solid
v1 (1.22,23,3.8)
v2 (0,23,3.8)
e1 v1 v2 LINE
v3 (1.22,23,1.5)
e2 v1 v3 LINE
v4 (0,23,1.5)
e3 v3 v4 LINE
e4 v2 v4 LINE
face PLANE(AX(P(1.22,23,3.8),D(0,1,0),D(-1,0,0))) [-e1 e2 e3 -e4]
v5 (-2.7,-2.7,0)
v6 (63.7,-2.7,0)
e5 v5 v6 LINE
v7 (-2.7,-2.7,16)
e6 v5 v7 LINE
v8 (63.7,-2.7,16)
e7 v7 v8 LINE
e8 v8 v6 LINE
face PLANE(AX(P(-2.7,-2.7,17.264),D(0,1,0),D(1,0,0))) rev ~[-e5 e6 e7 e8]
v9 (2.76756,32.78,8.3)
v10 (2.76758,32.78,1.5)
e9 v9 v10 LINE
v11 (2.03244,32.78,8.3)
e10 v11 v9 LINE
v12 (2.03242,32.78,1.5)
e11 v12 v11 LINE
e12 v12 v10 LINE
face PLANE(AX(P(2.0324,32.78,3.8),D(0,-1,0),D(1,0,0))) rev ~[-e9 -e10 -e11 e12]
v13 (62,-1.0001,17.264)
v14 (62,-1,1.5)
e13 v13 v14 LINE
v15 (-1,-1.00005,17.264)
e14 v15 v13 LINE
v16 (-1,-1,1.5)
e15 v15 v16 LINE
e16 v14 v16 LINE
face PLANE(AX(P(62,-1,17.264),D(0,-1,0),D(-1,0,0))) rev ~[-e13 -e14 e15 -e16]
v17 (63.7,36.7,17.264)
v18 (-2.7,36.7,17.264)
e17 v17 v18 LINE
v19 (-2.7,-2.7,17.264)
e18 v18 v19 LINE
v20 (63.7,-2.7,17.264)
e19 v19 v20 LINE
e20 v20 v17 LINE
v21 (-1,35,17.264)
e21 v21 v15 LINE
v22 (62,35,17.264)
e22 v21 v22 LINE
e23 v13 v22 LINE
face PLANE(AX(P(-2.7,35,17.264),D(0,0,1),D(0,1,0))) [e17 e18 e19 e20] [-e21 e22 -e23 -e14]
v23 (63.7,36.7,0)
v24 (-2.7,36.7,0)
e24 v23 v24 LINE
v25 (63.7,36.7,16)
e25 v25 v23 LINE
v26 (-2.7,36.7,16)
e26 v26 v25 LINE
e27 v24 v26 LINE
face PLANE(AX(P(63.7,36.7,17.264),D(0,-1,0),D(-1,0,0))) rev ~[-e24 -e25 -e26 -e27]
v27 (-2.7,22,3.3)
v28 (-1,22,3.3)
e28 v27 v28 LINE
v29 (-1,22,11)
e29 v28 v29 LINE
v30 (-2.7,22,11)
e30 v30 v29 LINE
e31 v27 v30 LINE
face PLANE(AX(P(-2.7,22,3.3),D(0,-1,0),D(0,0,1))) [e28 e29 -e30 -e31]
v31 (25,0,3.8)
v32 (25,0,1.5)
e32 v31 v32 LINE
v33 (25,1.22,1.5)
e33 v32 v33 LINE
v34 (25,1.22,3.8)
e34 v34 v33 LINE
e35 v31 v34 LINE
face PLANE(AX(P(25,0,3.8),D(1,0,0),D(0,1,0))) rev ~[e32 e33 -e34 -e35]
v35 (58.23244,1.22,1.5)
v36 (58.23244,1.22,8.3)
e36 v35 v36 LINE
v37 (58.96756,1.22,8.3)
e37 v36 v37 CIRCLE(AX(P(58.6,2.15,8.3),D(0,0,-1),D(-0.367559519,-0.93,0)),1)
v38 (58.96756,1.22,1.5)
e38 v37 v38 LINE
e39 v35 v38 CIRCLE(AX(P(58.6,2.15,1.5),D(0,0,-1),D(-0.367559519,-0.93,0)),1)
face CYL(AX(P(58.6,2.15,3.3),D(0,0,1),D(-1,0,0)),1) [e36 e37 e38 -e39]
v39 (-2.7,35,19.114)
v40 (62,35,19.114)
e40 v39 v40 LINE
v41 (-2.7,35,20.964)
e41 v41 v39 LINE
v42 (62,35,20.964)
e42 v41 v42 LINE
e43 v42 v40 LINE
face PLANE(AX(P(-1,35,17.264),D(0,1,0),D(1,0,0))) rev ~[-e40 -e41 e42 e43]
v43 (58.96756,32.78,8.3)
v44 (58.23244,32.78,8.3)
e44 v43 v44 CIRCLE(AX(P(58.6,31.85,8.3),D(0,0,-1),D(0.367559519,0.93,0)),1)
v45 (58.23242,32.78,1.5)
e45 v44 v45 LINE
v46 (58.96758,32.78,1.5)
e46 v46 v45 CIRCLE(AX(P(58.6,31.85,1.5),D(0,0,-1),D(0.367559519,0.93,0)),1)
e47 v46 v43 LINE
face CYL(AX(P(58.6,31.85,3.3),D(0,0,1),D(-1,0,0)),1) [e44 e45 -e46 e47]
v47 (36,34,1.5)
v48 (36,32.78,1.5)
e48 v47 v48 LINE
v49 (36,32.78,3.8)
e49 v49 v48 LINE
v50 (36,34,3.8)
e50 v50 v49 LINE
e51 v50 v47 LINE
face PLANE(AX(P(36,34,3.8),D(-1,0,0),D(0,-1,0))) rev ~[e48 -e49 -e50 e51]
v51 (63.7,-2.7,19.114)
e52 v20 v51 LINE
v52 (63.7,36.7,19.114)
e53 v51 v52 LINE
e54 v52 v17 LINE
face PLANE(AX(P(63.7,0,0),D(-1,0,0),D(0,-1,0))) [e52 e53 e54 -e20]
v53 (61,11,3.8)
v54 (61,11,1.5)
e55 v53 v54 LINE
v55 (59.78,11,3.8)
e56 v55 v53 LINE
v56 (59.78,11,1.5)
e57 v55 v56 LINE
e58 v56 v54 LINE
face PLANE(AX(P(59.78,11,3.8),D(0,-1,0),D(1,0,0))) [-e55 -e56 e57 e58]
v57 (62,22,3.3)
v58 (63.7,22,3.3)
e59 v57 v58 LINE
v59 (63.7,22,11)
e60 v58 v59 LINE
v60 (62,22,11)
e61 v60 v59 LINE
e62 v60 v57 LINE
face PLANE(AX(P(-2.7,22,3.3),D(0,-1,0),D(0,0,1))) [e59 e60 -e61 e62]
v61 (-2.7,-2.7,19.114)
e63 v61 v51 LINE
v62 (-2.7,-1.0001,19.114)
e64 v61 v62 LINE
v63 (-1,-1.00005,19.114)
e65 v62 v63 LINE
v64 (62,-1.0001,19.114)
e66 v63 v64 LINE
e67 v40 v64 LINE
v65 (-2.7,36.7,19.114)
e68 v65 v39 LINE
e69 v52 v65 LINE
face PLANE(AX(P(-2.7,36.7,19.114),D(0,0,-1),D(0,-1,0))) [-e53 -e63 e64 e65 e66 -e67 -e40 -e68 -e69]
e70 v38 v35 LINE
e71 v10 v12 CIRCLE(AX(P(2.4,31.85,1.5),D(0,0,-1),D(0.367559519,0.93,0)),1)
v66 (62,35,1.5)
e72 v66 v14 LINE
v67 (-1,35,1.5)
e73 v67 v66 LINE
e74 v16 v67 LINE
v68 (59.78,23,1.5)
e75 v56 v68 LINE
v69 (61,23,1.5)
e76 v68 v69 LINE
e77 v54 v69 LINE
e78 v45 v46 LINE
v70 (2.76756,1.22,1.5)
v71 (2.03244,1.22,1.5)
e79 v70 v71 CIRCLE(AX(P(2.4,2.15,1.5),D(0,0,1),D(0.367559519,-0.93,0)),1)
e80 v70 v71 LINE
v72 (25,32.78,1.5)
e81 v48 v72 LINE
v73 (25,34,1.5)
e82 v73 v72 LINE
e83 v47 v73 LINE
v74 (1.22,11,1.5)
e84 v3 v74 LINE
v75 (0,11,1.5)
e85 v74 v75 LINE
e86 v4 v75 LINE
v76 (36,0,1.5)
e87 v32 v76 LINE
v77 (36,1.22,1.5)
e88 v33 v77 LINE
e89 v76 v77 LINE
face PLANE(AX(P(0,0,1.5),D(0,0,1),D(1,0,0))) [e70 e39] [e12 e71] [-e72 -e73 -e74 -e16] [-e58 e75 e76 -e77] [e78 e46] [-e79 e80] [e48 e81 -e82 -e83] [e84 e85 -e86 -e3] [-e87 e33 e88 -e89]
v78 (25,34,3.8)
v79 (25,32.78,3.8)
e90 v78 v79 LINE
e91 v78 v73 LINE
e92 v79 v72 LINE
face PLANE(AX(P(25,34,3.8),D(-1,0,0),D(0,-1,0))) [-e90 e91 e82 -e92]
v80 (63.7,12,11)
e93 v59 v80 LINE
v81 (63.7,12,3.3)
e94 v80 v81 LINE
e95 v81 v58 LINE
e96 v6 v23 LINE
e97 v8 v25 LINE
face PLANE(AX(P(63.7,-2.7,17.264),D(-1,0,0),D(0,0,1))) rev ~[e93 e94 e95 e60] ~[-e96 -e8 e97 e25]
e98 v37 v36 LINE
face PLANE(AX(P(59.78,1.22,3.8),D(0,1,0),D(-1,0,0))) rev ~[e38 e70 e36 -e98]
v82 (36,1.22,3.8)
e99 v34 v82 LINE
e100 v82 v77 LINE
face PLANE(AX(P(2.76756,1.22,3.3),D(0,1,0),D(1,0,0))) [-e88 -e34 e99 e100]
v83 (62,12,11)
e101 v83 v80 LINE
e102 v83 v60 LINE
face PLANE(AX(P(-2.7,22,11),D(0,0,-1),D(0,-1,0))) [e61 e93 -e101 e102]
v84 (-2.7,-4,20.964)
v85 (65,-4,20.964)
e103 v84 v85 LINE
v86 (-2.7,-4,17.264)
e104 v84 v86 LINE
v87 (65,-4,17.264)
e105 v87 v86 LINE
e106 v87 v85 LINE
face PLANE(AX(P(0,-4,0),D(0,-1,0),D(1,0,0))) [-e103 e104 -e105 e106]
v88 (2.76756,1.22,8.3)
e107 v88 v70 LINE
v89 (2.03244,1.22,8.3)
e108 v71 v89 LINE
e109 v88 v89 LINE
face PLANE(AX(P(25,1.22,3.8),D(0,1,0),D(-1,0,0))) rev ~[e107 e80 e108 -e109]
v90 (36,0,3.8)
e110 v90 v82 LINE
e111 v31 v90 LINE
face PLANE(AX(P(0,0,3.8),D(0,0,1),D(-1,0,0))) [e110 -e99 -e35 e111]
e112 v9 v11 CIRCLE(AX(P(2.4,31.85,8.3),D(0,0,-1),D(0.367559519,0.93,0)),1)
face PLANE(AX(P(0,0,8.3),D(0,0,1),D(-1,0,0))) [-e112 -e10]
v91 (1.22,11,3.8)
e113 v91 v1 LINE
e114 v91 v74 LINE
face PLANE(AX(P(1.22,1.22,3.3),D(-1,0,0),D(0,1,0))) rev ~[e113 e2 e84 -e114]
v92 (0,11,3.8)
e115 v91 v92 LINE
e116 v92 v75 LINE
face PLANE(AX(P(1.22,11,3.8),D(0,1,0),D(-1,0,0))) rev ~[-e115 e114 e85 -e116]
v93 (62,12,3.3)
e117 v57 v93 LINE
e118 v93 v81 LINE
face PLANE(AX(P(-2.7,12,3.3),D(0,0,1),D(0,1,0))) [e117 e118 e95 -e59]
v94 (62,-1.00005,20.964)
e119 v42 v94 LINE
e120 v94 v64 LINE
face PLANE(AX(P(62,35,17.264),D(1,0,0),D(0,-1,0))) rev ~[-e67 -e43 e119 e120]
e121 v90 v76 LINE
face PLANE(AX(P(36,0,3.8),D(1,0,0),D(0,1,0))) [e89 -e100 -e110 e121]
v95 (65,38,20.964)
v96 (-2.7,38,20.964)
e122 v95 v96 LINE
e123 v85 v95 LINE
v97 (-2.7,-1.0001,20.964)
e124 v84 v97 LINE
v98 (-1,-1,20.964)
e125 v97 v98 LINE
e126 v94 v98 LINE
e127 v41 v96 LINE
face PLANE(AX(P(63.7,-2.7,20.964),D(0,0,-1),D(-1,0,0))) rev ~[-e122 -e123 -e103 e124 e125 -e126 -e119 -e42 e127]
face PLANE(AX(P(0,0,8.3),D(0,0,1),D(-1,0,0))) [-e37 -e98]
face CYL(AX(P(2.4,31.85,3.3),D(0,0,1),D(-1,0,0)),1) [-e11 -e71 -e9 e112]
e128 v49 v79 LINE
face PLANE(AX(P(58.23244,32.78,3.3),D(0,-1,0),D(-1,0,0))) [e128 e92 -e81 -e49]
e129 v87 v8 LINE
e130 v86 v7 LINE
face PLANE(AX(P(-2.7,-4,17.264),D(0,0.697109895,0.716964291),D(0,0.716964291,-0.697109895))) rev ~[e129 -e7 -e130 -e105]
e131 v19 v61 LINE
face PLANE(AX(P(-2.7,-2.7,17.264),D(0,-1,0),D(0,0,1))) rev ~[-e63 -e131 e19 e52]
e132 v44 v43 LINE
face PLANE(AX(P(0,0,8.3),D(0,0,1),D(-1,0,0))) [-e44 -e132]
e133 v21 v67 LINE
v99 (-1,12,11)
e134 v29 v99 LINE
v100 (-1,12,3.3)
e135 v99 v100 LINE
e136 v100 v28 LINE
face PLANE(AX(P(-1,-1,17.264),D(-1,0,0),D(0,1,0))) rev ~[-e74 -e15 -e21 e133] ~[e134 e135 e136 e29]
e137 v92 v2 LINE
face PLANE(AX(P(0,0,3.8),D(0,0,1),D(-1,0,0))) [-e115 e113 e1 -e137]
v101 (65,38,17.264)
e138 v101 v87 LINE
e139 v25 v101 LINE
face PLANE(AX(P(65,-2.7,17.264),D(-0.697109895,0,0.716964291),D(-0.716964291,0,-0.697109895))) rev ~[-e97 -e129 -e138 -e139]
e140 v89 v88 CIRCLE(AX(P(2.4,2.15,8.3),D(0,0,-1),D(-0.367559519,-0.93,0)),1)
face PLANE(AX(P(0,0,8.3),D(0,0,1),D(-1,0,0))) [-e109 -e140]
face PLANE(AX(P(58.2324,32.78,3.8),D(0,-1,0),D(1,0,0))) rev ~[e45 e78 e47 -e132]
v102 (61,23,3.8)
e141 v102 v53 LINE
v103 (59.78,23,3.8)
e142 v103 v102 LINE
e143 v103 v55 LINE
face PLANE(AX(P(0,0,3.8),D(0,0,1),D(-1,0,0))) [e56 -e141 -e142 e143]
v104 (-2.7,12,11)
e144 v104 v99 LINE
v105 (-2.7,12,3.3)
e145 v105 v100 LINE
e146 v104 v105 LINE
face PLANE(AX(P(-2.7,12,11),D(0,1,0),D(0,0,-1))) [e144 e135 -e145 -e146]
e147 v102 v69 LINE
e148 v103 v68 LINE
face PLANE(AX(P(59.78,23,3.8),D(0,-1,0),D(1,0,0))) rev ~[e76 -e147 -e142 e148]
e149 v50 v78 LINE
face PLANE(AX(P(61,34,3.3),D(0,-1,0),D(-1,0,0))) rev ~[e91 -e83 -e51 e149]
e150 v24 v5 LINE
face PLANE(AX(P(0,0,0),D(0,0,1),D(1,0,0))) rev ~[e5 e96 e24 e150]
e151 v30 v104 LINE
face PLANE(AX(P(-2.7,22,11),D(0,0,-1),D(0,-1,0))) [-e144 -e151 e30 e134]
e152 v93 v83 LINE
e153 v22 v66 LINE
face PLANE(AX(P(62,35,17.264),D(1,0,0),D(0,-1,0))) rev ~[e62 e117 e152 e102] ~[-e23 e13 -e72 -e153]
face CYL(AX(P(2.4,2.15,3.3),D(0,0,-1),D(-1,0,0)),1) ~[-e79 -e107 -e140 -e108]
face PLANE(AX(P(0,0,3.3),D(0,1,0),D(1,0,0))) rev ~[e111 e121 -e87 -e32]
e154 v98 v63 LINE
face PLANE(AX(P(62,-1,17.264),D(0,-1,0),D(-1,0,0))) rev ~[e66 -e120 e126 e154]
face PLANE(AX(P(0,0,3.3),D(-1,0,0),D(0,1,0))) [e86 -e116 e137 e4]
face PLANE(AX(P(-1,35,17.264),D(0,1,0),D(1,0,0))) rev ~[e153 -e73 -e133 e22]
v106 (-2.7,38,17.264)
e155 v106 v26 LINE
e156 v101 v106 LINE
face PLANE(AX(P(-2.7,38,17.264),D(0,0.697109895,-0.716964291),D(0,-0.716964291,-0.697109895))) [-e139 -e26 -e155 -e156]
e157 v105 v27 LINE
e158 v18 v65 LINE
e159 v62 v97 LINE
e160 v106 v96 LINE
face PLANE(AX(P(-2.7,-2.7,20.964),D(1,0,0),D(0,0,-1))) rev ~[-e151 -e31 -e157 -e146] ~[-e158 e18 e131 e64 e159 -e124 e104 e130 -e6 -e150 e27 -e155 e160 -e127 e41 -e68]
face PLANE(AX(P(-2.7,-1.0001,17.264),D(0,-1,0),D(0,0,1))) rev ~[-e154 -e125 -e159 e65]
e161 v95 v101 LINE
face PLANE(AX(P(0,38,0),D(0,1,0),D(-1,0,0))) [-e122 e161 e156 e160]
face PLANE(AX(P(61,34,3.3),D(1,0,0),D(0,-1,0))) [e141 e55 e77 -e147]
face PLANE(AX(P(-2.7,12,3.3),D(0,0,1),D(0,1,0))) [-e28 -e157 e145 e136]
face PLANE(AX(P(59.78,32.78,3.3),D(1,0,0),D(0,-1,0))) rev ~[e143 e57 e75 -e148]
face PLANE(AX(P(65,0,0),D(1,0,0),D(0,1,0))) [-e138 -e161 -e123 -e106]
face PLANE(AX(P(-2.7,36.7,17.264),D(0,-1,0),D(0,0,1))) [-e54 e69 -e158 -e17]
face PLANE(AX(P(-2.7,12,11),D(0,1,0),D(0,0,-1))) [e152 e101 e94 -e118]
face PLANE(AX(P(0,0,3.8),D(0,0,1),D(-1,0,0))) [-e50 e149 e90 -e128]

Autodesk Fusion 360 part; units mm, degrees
sketch "Spodek" plane through (0, 0, 0) normal (0, 0, 1) x (1, 0, 0)
  line L0 (0, 0) -> (61, 0)
  line L1 (61, 0) -> (61, 34)
  line L2 (61, 34) -> (0, 34)
  line L3 (0, 34) -> (0, 0)
  line L4 (-1, 35) -> (62, 35)
  line L5 (62, 35) -> (62, -1)
  line L6 (62, -1) -> (-1, -1)
  line L7 (-1, -1) -> (-1, 35)
  line L8 (-2.7, -2.7) -> (-2.7, 36.7) construction
  line L9 (63.7, 36.7) -> (-2.7, 36.7) construction
  line L10 (63.7, -2.7) -> (63.7, 36.7) construction
  line L11 (63.7, -2.7) -> (-2.7, -2.7) construction
  line L12 (-2.7, -2.7) -> (63.7, -2.7)
  line L13 (63.7, -2.7) -> (63.7, 36.7)
  line L14 (63.7, 36.7) -> (-2.7, 36.7)
  line L15 (-2.7, 36.7) -> (-2.7, -2.7)
  dimension "d1" = 61
  dimension "d2" = 34
  dimension "d3" = 63
  dimension "d4" = 36
  dimension "d5" = 1.7
  dimension "d6" = 1.7
  dimension "d7" = 1.7
  dimension "d8" = 1.7
sketch "TotoNevim" plane through (0, 0, 0) normal (0, 0, 1) x (1, 0, 0)
extrude "Extrude1" add sketch "Spodek" along normal blind 12 contours L12 L13 L14 L15 makes body 1
extrude "Extrude2" add sketch "Spodek" along normal blind 1.5 contours L0 L1 L2 L3 | L4 L5 L6 L7 bodies 1
sketch "Sketch3" plane through (0, 0, 1.5) normal (0, 0, 1) x (-1, 0, 0)
  line L0 (1, 1) -> (-62, 1)
  line L1 (-62, 1) -> (-62, -35)
  line L2 (-62, -35) -> (1, -35)
  line L3 (1, -35) -> (1, 1)
  line L4 (-59.78, -32.78) -> (-1.22, -32.78)
  line L5 (-1.22, -32.78) -> (-1.22, -1.22)
  line L6 (-1.22, -1.22) -> (-59.78, -1.22)
  line L7 (-59.78, -1.22) -> (-59.78, -32.78)
  line L8 (-61, 0) -> (-61, -34)
  line L9 (0, 0) -> (-61, 0)
  line L10 (0, -34) -> (0, 0)
  line L11 (-61, -34) -> (0, -34)
  dimension "d13" = 1.22
  dimension "d14" = 1.22
  dimension "d15" = 1.22
  dimension "d16" = 1.22
extrude "Extrude3" add sketch "Sketch3" along normal blind 1.8 contours L8 L9 L10 L11 bodies 1
extrude "Extrude4" add 1 faces at (20, -2.1333, 12) along direction (0, 0, 1) blind 5.243 on bodies 1 bodies 1
extrude "Extrude5" add 1 faces at (20, -2.1333, 17.243) along direction (0, 0, 1) blind 0.021 on bodies 1 bodies 1
sketch "Prurez1" plane through (-2.7, 0, 0) normal (-1, 0, 0) x (0, -1, 0)
  line L0 (-36.7, 0) -> (2.7, 0)
  line L1 (2.7, 0) -> (2.7, 17.264)
  line L2 (2.7, 17.264) -> (-36.7, 17.264)
  line L3 (-36.7, 17.264) -> (-36.7, 0)
  line L4 (-12, 3.3) -> (-12, 11) construction
  line L5 (0, 1.5) -> (0, 3.3) construction
  line L6 (-22, 11) -> (-22, 3.3) construction
  line L7 (-34, 3.3) -> (-34, 11) construction
  line L8 (-35, 1.5) -> (-35, 17.264) construction
  line L9 (-22, 11) -> (-12, 11) construction
  line L10 (-12, 11) -> (-12, 3.3) construction
  line L11 (-12, 3.3) -> (-22, 3.3) construction
  line L12 (-22, 3.3) -> (-22, 11) construction
  line L13 (-22, 11) -> (-12, 11)
  line L14 (-12, 11) -> (-12, 3.3)
  line L15 (-12, 3.3) -> (-22, 3.3)
  line L16 (-22, 3.3) -> (-22, 11)
  dimension "d23" = 7.7
  dimension "d24" = 12
  dimension "d25" = 12
  dimension "d26" = 1
extrude "Extrude6" cut sketch "Prurez1" against normal up to surface (66.4 mm away) contours L13 L14 L15 L16 bodies 1
sketch "Sketch5" plane through (0, 0, 17.264) normal (0, 0, 1) x (-1, 0, 0)
  line L0 (-62, 1) -> (1, 1)
  line L1 (1, 1) -> (1, -35)
  line L2 (1, -35) -> (-62, -35)
  line L3 (-62, -35) -> (-62, 1)
  line L4 (2.7, -36.7) -> (2.7, 2.7)
  line L5 (2.7, 2.7) -> (-63.7, 2.7)
  line L6 (-63.7, 2.7) -> (-63.7, -36.7)
  line L7 (-63.7, -36.7) -> (2.7, -36.7)
  line L8 (2.7, -36.7) -> (-63.7, -36.7)
  line L9 (-63.7, -36.7) -> (-63.7, 2.7)
  line L10 (-63.7, 2.7) -> (2.7, 2.7)
  line L11 (2.7, 2.7) -> (2.7, -36.7)
  line L12 (1, -35) -> (-62, -35)
  line L13 (-62, -35) -> (-62, 1)
  line L14 (-62, 1) -> (1, 1)
  line L15 (1, 1) -> (1, -35)
extrude "Extrude7" add sketch "Sketch5" along normal blind 3.7 bodies 1
sketch "Sketch6" plane through (-2.7, 0, 0) normal (-1, 0, 0) x (0, -1, 0)
  line L0 (-22, 3.3) -> (-22, 11)
  line L1 (-22, 11) -> (-12, 11)
  line L2 (-12, 11) -> (-12, 3.3)
  line L3 (-12, 3.3) -> (-22, 3.3)
  line L4 (-36.7, 0) -> (2.7, 0)
  line L5 (2.7, 0) -> (2.7, 20.964)
  line L6 (2.7, 20.964) -> (-36.7, 20.964)
  line L7 (-36.7, 20.964) -> (-36.7, 0)
  line L8 (-35, 17.264) -> (1.0001, 17.264)
  line L9 (1.0001, 17.264) -> (1.0001, 20.964)
  line L10 (1.0001, 20.964) -> (-35, 20.964)
  line L11 (-35, 20.964) -> (-35, 17.264)
  line L12 (-36.7, 17.264) -> (2.7, 17.264)
extrude "Extrude8" cut sketch "Sketch6" against normal up to surface (64.7 mm away) contours L6 L8 L9 L10 L11 L12 bodies 1
sketch "BokFront" plane through (0, -2.7, 0) normal (0, -1, 0) x (1, 0, 0)
  line L0 (-2.7, 0) -> (63.7, 0)
  line L1 (63.7, 0) -> (63.7, 20.964)
  line L2 (63.7, 20.964) -> (-2.7, 20.964)
  line L3 (-2.7, 20.964) -> (-2.7, 0)
  line L4 (-2.7, 20.964) -> (63.7, 20.964)
  line L5 (63.7, 20.964) -> (63.7, 17.264)
  line L6 (63.7, 17.264) -> (-2.7, 17.264)
  line L7 (-2.7, 17.264) -> (-2.7, 20.964)
  point P0 (63.7, 17.264)
sketch "BokRight" plane through (63.7, 0, 0) normal (1, 0, 0) x (0, 1, 0)
  line L0 (22, 11) -> (22, 3.3)
  line L1 (22, 3.3) -> (12, 3.3)
  line L2 (12, 3.3) -> (12, 11)
  line L3 (12, 11) -> (22, 11)
  line L4 (-2.7, 0) -> (36.7, 0)
  line L5 (36.7, 0) -> (36.7, 20.964)
  line L6 (36.7, 20.964) -> (-2.7, 20.964)
  line L7 (-2.7, 20.964) -> (-2.7, 0)
  line L8 (-2.7, 20.964) -> (36.7, 20.964)
  line L9 (36.7, 20.964) -> (36.7, 17.264)
  line L10 (36.7, 17.264) -> (-2.7, 17.264)
  line L11 (-2.7, 17.264) -> (-2.7, 20.964)
  point P0 (36.7, 17.264)
sketch "BokBack" plane through (0, 36.7, 0) normal (0, 1, 0) x (-1, 0, 0)
  line L0 (-63.7, 0) -> (2.7, 0)
  line L1 (2.7, 0) -> (2.7, 20.964)
  line L2 (2.7, 20.964) -> (-63.7, 20.964)
  line L3 (-63.7, 20.964) -> (-63.7, 0)
  line L4 (-63.7, 20.964) -> (2.7, 20.964)
  line L5 (2.7, 20.964) -> (2.7, 17.264)
  line L6 (2.7, 17.264) -> (-63.7, 17.264)
  line L7 (-63.7, 17.264) -> (-63.7, 20.964)
  point P0 (2.7, 17.264)
extrude "Extrude9" add sketch "BokBack" along normal blind 1.3 contours L1 L2 L3 L4 L5 L6 L7 bodies 1
extrude "Extrude10" add sketch "BokFront" along normal blind 1.3 contours L1 L2 L3 L4 L5 L6 L7 bodies 1
extrude "Extrude11" add sketch "BokRight" along normal blind 1.3 contours L5 L6 L7 L8 L9 L10 L11 bodies 1
extrude "Extrude12" add 1 faces at (63.7, 37.5667, 19.7307) along direction (1, 0, 0) blind 1.3 on bodies 1 bodies 1
extrude "Extrude13" add 1 faces at (63.7, -3.1333, 19.7307) along direction (1, 0, 0) blind 1.3 on bodies 1 bodies 1
sketch "Sketch10" plane through (-2.7, 0, 0) normal (-1, 0, 0) x (0, -1, 0)
  line L0 (-35, 17.264) -> (-35, 20.964)
  line L1 (-35, 20.964) -> (-38, 20.964)
  line L2 (-38, 20.964) -> (-38, 17.264)
  line L3 (-38, 17.264) -> (-36.7, 17.264)
  line L4 (-36.7, 17.264) -> (-36.7, 0)
  line L5 (-36.7, 0) -> (2.7, 0)
  line L6 (2.7, 0) -> (2.7, 17.264)
  line L7 (2.7, 17.264) -> (4, 17.264)
  line L8 (4, 17.264) -> (4, 20.964)
  line L9 (4, 20.964) -> (1.0001, 20.964)
  line L10 (1.0001, 20.964) -> (1.0001, 17.264)
  line L11 (1.0001, 17.264) -> (-35, 17.264)
  line L12 (-22, 3.3) -> (-22, 11)
  line L13 (-22, 11) -> (-12, 11)
  line L14 (-12, 11) -> (-12, 3.3)
  line L15 (-12, 3.3) -> (-22, 3.3)
  line L16 (4, 17.264) -> (2.7, 16)
  line L17 (-38, 17.264) -> (-36.7, 16)
extrude "Extrude14" add sketch "Sketch10" against normal up to surface (67.7 mm away) contours L3 L4 L17 | L6 L7 L16 bodies 1
sketch "Sketch11" plane through (0, -2.7, 0) normal (0, 1, 0) x (-1, 0, 0)
  line L0 (-63.7, 16) -> (-63.7, 17.264)
  line L1 (-63.7, 17.264) -> (-65, 17.264)
  line L2 (-65, 17.264) -> (-65, 16)
  line L3 (-65, 16) -> (-63.7, 16)
  line L4 (-65, 17.264) -> (-63.7, 16)
extrude "Extrude15" add sketch "Sketch11" along normal blind 39.4 contours L0 L1 L4 bodies 1
extrude "Extrude16" cut 1 faces at (64.5667, -2.7, 16.4213) along direction (0, -1, 0) blind 5.3 on bodies 1 bodies 1
extrude "Extrude17" cut 1 faces at (64.5667, 36.7, 16.4213) along direction (0, 1, 0) blind 1.9 on bodies 1 bodies 1
sketch "Sketch12" plane through (-2.7, 35.85, 19.114) normal (-1, 0, 0) x (0, -1, 0)
  line L0 (-0.85, 0) -> (0.85, 0)
  line L1 (0.85, 0) -> (0.85, -1.85)
  line L2 (0.85, -1.85) -> (-0.85, -1.85)
  line L3 (-0.85, -1.85) -> (-0.85, 0)
  line L4 (-0.85, 1.85) -> (-0.85, -19.114)
  line L5 (36.8501, -1.85) -> (38.55, -1.85)
  line L6 (38.55, -1.85) -> (38.55, 0)
  line L7 (38.55, 0) -> (36.8501, 0)
  line L8 (36.8501, 0) -> (36.8501, -1.85)
  line L9 (38.55, -19.114) -> (38.55, 1.85)
  point P0 (0.85, -1.85)
  point P1 (36.8501, -1.85)
extrude "Extrude18" cut sketch "Sketch12" against normal blind 64.7 bodies 1
sketch "Sketch13" plane through (62, 0, 0) normal (-1, 0, 0) x (0, -1, 0)
  line L0 (-35, 17.264) -> (-35, 1.5)
  line L1 (-35, 1.5) -> (1, 1.5)
  line L2 (1, 1.5) -> (1, 17.264)
  line L3 (1.0001, 17.264) -> (2.7, 17.264)
  line L4 (2.7, 17.264) -> (2.7, 19.114)
  line L5 (2.7, 19.114) -> (1.0001, 19.114)
  line L6 (1, 19.114) -> (1, 20.964)
  line L7 (1, 20.964) -> (-35, 20.964)
  line L8 (-35, 20.964) -> (-35, 19.114)
  line L9 (-35, 19.114) -> (-36.7, 19.114)
  line L10 (-36.7, 19.114) -> (-36.7, 17.264)
  line L11 (-36.7, 17.264) -> (-35, 17.264)
  line L12 (-22, 3.3) -> (-22, 11)
  line L13 (-22, 11) -> (-12, 11)
  line L14 (-12, 11) -> (-12, 3.3)
  line L15 (-12, 3.3) -> (-22, 3.3)
  line L16 (-36.7, 19.114) -> (2.7, 19.114)
  line L17 (2.7, 19.114) -> (2.7, 17.264)
  line L18 (2.7, 17.264) -> (-36.7, 17.264)
  line L19 (-36.7, 17.264) -> (-36.7, 19.114)
extrude "Extrude19" cut sketch "Sketch13" against normal blind 1.7 contours L3 L4 L5 L9 L10 L11 L16 L17 L18 L19 bodies 1
sketch "Sketch14" plane through (0, 0, 3.3) normal (0, 0, 1) x (-1, 0, 0)
  line L0 (0, -34) -> (0, 0)
  line L1 (0, 0) -> (-61, 0)
  line L2 (-61, 0) -> (-61, -34)
  line L3 (-61, -34) -> (0, -34)
  line L4 (-1.22, -1.22) -> (-1.22, -32.78)
  line L5 (-1.22, -32.78) -> (-59.78, -32.78)
  line L6 (-59.78, -32.78) -> (-59.78, -1.22)
  line L7 (-59.78, -1.22) -> (-1.22, -1.22)
  circle A0 centre (-58.6, -31.85) radius 1
  line L8 (-61, -17) -> (0, -17) construction
  circle A1 centre (-58.6, -2.15) radius 1
  line L9 (-30.5, -34) -> (-30.5, 0) construction
  circle A2 centre (-2.4, -31.85) radius 1
  circle A3 centre (-2.4, -2.15) radius 1
  point P0 (-58.6, -31.85)
  dimension "d55" = 2.15
  dimension "d56" = 2.4
  dimension "d57" = 2
extrude "Extrude20" add sketch "Sketch14" along normal blind 5 separate body contours L7 A3 | L5 A2 | L7 A1 | L5 A0 picked at (-2.6077, -1.9583) picked at (-2.278, -32.1598) picked at (-58.2997, -2.1959) picked at (-58.3551, -31.7867) makes body 2 at (59.2633, 32.5983, 6.6333) makes body 3 at (59.1416, 2.9907, 6.6333) makes body 4 at (3.0633, 32.5983, 6.6333) makes body 5 at (2.8103, 3.062, 6.6333)
extrude "Extrude21" add 4 faces at (2.6077, 1.9583, 3.3) (2.278, 32.1598, 3.3) (58.3551, 31.7867, 3.3) (58.2997, 2.1959, 3.3) along direction (0, 0, -1) blind 2 on bodies 2 3 4 5 bodies 5 1 2 3 4
extrude "Extrude22" add 1 faces at (39.7441, 0.4067, 3.3) along direction (0, 0, 1) blind 0.5 on bodies 5 bodies 5
sketch "Sketch15" plane through (0, 0, 3.8) normal (0, 0, 1) x (-1, 0, 0)
  line L0 (0, -34) -> (0, 0)
  line L1 (0, 0) -> (-61, 0)
  line L2 (-61, 0) -> (-61, -34)
  line L3 (-61, -34) -> (0, -34)
  line L4 (-1.22, -1.22) -> (-1.22, -32.78)
  line L5 (-1.22, -32.78) -> (-2.0324, -32.78)
  line L6 (-2.0324, -32.78) -> (-2.7676, -32.78)
  line L7 (-2.7676, -32.78) -> (-58.2324, -32.78)
  line L8 (-58.2324, -32.78) -> (-58.9676, -32.78)
  line L9 (-58.9676, -32.78) -> (-59.78, -32.78)
  line L10 (-59.78, -32.78) -> (-59.78, -1.22)
  line L11 (-59.78, -1.22) -> (-58.9676, -1.22)
  line L12 (-58.9676, -1.22) -> (-58.2324, -1.22)
  line L13 (-58.2324, -1.22) -> (-2.7676, -1.22)
  line L14 (-2.7676, -1.22) -> (-2.0324, -1.22)
  line L15 (-2.0324, -1.22) -> (-1.22, -1.22)
  line L16 (0, -34) -> (-1.22, -34)
  line L17 (-1.22, -34) -> (-1.22, -23)
  line L18 (-1.22, -23) -> (0, -23)
  line L19 (0, -23) -> (0, -34)
  line L20 (0, 0) -> (-1.22, 0)
  line L21 (-1.22, 0) -> (-1.22, -11)
  line L22 (-1.22, -11) -> (0, -11)
  line L23 (0, -11) -> (0, 0)
  line L24 (0, 0) -> (-25, 0)
  line L25 (-25, 0) -> (-25, -1.22)
  line L26 (-25, -1.22) -> (0, -1.22)
  line L27 (0, -1.22) -> (0, 0)
  line L28 (-61, 0) -> (-36, 0)
  line L29 (-36, 0) -> (-36, -1.22)
  line L30 (-36, -1.22) -> (-61, -1.22)
  line L31 (-61, -1.22) -> (-61, 0)
  line L32 (-61, 0) -> (-59.78, 0)
  line L33 (-59.78, 0) -> (-59.78, -11)
  line L34 (-59.78, -11) -> (-61, -11)
  line L35 (-61, -11) -> (-61, 0)
  line L36 (-61, -34) -> (-59.78, -34)
  line L37 (-59.78, -34) -> (-59.78, -23)
  line L38 (-59.78, -23) -> (-61, -23)
  line L39 (-61, -23) -> (-61, -34)
  line L40 (0, -34) -> (-25, -34)
  line L41 (-25, -34) -> (-25, -32.78)
  line L42 (-25, -32.78) -> (0, -32.78)
  line L43 (0, -32.78) -> (0, -34)
  line L44 (-61, -34) -> (-36, -34)
  line L45 (-36, -34) -> (-36, -32.78)
  line L46 (-36, -32.78) -> (-61, -32.78)
  line L47 (-61, -32.78) -> (-61, -34)
  dimension "d64" = 11
  dimension "d65" = 11
  dimension "d66" = 25
  dimension "d67" = 25
  dimension "d68" = 11
  dimension "d69" = 11
  dimension "d70" = 25
  dimension "d71" = 25
extrude "Extrude23" cut sketch "Sketch15" against normal blind 2.3 contours L0 L3 L16 L17 L19 L40 L42 L43 | L3 L5 L6 L7 L17 L40 L41 L42 bodies 5
extrude "Extrude24" cut sketch "Sketch15" against normal blind 2.3 contours L3 L7 L8 L9 L37 L44 L45 L46 | L2 L3 L36 L37 L39 L44 L46 L47 bodies 5
extrude "Extrude25" cut sketch "Sketch15" against normal blind 2.3 contours L2 L10 L37 L38 L39 L46 bodies 5
extrude "Extrude26" cut sketch "Sketch15" against normal blind 2.3 contours L0 L4 L21 L22 L23 L26 | L0 L1 L20 L21 L23 L24 L26 L27 | L1 L13 L14 L15 L21 L24 L25 L26 | L2 L10 L30 L33 L34 L35 | L1 L11 L12 L13 L28 L29 L30 L33 | L1 L2 L28 L30 L31 L32 L33 L35 bodies 5
extrude "Extrude27" cut sketch "Sketch15" against normal blind 2.3 contours L0 L4 L17 L18 L19 L42 bodies 5
equation "d19 = 14 mm - 8.757 mm"
equation "d21 = 14 mm - 13.979 mm"
equation "d33 = 3 mm - 1.70 mm"
equation "d35 = 3 mm - 1.70 mm"
equation "d37 = 3 mm - 1.70 mm"
